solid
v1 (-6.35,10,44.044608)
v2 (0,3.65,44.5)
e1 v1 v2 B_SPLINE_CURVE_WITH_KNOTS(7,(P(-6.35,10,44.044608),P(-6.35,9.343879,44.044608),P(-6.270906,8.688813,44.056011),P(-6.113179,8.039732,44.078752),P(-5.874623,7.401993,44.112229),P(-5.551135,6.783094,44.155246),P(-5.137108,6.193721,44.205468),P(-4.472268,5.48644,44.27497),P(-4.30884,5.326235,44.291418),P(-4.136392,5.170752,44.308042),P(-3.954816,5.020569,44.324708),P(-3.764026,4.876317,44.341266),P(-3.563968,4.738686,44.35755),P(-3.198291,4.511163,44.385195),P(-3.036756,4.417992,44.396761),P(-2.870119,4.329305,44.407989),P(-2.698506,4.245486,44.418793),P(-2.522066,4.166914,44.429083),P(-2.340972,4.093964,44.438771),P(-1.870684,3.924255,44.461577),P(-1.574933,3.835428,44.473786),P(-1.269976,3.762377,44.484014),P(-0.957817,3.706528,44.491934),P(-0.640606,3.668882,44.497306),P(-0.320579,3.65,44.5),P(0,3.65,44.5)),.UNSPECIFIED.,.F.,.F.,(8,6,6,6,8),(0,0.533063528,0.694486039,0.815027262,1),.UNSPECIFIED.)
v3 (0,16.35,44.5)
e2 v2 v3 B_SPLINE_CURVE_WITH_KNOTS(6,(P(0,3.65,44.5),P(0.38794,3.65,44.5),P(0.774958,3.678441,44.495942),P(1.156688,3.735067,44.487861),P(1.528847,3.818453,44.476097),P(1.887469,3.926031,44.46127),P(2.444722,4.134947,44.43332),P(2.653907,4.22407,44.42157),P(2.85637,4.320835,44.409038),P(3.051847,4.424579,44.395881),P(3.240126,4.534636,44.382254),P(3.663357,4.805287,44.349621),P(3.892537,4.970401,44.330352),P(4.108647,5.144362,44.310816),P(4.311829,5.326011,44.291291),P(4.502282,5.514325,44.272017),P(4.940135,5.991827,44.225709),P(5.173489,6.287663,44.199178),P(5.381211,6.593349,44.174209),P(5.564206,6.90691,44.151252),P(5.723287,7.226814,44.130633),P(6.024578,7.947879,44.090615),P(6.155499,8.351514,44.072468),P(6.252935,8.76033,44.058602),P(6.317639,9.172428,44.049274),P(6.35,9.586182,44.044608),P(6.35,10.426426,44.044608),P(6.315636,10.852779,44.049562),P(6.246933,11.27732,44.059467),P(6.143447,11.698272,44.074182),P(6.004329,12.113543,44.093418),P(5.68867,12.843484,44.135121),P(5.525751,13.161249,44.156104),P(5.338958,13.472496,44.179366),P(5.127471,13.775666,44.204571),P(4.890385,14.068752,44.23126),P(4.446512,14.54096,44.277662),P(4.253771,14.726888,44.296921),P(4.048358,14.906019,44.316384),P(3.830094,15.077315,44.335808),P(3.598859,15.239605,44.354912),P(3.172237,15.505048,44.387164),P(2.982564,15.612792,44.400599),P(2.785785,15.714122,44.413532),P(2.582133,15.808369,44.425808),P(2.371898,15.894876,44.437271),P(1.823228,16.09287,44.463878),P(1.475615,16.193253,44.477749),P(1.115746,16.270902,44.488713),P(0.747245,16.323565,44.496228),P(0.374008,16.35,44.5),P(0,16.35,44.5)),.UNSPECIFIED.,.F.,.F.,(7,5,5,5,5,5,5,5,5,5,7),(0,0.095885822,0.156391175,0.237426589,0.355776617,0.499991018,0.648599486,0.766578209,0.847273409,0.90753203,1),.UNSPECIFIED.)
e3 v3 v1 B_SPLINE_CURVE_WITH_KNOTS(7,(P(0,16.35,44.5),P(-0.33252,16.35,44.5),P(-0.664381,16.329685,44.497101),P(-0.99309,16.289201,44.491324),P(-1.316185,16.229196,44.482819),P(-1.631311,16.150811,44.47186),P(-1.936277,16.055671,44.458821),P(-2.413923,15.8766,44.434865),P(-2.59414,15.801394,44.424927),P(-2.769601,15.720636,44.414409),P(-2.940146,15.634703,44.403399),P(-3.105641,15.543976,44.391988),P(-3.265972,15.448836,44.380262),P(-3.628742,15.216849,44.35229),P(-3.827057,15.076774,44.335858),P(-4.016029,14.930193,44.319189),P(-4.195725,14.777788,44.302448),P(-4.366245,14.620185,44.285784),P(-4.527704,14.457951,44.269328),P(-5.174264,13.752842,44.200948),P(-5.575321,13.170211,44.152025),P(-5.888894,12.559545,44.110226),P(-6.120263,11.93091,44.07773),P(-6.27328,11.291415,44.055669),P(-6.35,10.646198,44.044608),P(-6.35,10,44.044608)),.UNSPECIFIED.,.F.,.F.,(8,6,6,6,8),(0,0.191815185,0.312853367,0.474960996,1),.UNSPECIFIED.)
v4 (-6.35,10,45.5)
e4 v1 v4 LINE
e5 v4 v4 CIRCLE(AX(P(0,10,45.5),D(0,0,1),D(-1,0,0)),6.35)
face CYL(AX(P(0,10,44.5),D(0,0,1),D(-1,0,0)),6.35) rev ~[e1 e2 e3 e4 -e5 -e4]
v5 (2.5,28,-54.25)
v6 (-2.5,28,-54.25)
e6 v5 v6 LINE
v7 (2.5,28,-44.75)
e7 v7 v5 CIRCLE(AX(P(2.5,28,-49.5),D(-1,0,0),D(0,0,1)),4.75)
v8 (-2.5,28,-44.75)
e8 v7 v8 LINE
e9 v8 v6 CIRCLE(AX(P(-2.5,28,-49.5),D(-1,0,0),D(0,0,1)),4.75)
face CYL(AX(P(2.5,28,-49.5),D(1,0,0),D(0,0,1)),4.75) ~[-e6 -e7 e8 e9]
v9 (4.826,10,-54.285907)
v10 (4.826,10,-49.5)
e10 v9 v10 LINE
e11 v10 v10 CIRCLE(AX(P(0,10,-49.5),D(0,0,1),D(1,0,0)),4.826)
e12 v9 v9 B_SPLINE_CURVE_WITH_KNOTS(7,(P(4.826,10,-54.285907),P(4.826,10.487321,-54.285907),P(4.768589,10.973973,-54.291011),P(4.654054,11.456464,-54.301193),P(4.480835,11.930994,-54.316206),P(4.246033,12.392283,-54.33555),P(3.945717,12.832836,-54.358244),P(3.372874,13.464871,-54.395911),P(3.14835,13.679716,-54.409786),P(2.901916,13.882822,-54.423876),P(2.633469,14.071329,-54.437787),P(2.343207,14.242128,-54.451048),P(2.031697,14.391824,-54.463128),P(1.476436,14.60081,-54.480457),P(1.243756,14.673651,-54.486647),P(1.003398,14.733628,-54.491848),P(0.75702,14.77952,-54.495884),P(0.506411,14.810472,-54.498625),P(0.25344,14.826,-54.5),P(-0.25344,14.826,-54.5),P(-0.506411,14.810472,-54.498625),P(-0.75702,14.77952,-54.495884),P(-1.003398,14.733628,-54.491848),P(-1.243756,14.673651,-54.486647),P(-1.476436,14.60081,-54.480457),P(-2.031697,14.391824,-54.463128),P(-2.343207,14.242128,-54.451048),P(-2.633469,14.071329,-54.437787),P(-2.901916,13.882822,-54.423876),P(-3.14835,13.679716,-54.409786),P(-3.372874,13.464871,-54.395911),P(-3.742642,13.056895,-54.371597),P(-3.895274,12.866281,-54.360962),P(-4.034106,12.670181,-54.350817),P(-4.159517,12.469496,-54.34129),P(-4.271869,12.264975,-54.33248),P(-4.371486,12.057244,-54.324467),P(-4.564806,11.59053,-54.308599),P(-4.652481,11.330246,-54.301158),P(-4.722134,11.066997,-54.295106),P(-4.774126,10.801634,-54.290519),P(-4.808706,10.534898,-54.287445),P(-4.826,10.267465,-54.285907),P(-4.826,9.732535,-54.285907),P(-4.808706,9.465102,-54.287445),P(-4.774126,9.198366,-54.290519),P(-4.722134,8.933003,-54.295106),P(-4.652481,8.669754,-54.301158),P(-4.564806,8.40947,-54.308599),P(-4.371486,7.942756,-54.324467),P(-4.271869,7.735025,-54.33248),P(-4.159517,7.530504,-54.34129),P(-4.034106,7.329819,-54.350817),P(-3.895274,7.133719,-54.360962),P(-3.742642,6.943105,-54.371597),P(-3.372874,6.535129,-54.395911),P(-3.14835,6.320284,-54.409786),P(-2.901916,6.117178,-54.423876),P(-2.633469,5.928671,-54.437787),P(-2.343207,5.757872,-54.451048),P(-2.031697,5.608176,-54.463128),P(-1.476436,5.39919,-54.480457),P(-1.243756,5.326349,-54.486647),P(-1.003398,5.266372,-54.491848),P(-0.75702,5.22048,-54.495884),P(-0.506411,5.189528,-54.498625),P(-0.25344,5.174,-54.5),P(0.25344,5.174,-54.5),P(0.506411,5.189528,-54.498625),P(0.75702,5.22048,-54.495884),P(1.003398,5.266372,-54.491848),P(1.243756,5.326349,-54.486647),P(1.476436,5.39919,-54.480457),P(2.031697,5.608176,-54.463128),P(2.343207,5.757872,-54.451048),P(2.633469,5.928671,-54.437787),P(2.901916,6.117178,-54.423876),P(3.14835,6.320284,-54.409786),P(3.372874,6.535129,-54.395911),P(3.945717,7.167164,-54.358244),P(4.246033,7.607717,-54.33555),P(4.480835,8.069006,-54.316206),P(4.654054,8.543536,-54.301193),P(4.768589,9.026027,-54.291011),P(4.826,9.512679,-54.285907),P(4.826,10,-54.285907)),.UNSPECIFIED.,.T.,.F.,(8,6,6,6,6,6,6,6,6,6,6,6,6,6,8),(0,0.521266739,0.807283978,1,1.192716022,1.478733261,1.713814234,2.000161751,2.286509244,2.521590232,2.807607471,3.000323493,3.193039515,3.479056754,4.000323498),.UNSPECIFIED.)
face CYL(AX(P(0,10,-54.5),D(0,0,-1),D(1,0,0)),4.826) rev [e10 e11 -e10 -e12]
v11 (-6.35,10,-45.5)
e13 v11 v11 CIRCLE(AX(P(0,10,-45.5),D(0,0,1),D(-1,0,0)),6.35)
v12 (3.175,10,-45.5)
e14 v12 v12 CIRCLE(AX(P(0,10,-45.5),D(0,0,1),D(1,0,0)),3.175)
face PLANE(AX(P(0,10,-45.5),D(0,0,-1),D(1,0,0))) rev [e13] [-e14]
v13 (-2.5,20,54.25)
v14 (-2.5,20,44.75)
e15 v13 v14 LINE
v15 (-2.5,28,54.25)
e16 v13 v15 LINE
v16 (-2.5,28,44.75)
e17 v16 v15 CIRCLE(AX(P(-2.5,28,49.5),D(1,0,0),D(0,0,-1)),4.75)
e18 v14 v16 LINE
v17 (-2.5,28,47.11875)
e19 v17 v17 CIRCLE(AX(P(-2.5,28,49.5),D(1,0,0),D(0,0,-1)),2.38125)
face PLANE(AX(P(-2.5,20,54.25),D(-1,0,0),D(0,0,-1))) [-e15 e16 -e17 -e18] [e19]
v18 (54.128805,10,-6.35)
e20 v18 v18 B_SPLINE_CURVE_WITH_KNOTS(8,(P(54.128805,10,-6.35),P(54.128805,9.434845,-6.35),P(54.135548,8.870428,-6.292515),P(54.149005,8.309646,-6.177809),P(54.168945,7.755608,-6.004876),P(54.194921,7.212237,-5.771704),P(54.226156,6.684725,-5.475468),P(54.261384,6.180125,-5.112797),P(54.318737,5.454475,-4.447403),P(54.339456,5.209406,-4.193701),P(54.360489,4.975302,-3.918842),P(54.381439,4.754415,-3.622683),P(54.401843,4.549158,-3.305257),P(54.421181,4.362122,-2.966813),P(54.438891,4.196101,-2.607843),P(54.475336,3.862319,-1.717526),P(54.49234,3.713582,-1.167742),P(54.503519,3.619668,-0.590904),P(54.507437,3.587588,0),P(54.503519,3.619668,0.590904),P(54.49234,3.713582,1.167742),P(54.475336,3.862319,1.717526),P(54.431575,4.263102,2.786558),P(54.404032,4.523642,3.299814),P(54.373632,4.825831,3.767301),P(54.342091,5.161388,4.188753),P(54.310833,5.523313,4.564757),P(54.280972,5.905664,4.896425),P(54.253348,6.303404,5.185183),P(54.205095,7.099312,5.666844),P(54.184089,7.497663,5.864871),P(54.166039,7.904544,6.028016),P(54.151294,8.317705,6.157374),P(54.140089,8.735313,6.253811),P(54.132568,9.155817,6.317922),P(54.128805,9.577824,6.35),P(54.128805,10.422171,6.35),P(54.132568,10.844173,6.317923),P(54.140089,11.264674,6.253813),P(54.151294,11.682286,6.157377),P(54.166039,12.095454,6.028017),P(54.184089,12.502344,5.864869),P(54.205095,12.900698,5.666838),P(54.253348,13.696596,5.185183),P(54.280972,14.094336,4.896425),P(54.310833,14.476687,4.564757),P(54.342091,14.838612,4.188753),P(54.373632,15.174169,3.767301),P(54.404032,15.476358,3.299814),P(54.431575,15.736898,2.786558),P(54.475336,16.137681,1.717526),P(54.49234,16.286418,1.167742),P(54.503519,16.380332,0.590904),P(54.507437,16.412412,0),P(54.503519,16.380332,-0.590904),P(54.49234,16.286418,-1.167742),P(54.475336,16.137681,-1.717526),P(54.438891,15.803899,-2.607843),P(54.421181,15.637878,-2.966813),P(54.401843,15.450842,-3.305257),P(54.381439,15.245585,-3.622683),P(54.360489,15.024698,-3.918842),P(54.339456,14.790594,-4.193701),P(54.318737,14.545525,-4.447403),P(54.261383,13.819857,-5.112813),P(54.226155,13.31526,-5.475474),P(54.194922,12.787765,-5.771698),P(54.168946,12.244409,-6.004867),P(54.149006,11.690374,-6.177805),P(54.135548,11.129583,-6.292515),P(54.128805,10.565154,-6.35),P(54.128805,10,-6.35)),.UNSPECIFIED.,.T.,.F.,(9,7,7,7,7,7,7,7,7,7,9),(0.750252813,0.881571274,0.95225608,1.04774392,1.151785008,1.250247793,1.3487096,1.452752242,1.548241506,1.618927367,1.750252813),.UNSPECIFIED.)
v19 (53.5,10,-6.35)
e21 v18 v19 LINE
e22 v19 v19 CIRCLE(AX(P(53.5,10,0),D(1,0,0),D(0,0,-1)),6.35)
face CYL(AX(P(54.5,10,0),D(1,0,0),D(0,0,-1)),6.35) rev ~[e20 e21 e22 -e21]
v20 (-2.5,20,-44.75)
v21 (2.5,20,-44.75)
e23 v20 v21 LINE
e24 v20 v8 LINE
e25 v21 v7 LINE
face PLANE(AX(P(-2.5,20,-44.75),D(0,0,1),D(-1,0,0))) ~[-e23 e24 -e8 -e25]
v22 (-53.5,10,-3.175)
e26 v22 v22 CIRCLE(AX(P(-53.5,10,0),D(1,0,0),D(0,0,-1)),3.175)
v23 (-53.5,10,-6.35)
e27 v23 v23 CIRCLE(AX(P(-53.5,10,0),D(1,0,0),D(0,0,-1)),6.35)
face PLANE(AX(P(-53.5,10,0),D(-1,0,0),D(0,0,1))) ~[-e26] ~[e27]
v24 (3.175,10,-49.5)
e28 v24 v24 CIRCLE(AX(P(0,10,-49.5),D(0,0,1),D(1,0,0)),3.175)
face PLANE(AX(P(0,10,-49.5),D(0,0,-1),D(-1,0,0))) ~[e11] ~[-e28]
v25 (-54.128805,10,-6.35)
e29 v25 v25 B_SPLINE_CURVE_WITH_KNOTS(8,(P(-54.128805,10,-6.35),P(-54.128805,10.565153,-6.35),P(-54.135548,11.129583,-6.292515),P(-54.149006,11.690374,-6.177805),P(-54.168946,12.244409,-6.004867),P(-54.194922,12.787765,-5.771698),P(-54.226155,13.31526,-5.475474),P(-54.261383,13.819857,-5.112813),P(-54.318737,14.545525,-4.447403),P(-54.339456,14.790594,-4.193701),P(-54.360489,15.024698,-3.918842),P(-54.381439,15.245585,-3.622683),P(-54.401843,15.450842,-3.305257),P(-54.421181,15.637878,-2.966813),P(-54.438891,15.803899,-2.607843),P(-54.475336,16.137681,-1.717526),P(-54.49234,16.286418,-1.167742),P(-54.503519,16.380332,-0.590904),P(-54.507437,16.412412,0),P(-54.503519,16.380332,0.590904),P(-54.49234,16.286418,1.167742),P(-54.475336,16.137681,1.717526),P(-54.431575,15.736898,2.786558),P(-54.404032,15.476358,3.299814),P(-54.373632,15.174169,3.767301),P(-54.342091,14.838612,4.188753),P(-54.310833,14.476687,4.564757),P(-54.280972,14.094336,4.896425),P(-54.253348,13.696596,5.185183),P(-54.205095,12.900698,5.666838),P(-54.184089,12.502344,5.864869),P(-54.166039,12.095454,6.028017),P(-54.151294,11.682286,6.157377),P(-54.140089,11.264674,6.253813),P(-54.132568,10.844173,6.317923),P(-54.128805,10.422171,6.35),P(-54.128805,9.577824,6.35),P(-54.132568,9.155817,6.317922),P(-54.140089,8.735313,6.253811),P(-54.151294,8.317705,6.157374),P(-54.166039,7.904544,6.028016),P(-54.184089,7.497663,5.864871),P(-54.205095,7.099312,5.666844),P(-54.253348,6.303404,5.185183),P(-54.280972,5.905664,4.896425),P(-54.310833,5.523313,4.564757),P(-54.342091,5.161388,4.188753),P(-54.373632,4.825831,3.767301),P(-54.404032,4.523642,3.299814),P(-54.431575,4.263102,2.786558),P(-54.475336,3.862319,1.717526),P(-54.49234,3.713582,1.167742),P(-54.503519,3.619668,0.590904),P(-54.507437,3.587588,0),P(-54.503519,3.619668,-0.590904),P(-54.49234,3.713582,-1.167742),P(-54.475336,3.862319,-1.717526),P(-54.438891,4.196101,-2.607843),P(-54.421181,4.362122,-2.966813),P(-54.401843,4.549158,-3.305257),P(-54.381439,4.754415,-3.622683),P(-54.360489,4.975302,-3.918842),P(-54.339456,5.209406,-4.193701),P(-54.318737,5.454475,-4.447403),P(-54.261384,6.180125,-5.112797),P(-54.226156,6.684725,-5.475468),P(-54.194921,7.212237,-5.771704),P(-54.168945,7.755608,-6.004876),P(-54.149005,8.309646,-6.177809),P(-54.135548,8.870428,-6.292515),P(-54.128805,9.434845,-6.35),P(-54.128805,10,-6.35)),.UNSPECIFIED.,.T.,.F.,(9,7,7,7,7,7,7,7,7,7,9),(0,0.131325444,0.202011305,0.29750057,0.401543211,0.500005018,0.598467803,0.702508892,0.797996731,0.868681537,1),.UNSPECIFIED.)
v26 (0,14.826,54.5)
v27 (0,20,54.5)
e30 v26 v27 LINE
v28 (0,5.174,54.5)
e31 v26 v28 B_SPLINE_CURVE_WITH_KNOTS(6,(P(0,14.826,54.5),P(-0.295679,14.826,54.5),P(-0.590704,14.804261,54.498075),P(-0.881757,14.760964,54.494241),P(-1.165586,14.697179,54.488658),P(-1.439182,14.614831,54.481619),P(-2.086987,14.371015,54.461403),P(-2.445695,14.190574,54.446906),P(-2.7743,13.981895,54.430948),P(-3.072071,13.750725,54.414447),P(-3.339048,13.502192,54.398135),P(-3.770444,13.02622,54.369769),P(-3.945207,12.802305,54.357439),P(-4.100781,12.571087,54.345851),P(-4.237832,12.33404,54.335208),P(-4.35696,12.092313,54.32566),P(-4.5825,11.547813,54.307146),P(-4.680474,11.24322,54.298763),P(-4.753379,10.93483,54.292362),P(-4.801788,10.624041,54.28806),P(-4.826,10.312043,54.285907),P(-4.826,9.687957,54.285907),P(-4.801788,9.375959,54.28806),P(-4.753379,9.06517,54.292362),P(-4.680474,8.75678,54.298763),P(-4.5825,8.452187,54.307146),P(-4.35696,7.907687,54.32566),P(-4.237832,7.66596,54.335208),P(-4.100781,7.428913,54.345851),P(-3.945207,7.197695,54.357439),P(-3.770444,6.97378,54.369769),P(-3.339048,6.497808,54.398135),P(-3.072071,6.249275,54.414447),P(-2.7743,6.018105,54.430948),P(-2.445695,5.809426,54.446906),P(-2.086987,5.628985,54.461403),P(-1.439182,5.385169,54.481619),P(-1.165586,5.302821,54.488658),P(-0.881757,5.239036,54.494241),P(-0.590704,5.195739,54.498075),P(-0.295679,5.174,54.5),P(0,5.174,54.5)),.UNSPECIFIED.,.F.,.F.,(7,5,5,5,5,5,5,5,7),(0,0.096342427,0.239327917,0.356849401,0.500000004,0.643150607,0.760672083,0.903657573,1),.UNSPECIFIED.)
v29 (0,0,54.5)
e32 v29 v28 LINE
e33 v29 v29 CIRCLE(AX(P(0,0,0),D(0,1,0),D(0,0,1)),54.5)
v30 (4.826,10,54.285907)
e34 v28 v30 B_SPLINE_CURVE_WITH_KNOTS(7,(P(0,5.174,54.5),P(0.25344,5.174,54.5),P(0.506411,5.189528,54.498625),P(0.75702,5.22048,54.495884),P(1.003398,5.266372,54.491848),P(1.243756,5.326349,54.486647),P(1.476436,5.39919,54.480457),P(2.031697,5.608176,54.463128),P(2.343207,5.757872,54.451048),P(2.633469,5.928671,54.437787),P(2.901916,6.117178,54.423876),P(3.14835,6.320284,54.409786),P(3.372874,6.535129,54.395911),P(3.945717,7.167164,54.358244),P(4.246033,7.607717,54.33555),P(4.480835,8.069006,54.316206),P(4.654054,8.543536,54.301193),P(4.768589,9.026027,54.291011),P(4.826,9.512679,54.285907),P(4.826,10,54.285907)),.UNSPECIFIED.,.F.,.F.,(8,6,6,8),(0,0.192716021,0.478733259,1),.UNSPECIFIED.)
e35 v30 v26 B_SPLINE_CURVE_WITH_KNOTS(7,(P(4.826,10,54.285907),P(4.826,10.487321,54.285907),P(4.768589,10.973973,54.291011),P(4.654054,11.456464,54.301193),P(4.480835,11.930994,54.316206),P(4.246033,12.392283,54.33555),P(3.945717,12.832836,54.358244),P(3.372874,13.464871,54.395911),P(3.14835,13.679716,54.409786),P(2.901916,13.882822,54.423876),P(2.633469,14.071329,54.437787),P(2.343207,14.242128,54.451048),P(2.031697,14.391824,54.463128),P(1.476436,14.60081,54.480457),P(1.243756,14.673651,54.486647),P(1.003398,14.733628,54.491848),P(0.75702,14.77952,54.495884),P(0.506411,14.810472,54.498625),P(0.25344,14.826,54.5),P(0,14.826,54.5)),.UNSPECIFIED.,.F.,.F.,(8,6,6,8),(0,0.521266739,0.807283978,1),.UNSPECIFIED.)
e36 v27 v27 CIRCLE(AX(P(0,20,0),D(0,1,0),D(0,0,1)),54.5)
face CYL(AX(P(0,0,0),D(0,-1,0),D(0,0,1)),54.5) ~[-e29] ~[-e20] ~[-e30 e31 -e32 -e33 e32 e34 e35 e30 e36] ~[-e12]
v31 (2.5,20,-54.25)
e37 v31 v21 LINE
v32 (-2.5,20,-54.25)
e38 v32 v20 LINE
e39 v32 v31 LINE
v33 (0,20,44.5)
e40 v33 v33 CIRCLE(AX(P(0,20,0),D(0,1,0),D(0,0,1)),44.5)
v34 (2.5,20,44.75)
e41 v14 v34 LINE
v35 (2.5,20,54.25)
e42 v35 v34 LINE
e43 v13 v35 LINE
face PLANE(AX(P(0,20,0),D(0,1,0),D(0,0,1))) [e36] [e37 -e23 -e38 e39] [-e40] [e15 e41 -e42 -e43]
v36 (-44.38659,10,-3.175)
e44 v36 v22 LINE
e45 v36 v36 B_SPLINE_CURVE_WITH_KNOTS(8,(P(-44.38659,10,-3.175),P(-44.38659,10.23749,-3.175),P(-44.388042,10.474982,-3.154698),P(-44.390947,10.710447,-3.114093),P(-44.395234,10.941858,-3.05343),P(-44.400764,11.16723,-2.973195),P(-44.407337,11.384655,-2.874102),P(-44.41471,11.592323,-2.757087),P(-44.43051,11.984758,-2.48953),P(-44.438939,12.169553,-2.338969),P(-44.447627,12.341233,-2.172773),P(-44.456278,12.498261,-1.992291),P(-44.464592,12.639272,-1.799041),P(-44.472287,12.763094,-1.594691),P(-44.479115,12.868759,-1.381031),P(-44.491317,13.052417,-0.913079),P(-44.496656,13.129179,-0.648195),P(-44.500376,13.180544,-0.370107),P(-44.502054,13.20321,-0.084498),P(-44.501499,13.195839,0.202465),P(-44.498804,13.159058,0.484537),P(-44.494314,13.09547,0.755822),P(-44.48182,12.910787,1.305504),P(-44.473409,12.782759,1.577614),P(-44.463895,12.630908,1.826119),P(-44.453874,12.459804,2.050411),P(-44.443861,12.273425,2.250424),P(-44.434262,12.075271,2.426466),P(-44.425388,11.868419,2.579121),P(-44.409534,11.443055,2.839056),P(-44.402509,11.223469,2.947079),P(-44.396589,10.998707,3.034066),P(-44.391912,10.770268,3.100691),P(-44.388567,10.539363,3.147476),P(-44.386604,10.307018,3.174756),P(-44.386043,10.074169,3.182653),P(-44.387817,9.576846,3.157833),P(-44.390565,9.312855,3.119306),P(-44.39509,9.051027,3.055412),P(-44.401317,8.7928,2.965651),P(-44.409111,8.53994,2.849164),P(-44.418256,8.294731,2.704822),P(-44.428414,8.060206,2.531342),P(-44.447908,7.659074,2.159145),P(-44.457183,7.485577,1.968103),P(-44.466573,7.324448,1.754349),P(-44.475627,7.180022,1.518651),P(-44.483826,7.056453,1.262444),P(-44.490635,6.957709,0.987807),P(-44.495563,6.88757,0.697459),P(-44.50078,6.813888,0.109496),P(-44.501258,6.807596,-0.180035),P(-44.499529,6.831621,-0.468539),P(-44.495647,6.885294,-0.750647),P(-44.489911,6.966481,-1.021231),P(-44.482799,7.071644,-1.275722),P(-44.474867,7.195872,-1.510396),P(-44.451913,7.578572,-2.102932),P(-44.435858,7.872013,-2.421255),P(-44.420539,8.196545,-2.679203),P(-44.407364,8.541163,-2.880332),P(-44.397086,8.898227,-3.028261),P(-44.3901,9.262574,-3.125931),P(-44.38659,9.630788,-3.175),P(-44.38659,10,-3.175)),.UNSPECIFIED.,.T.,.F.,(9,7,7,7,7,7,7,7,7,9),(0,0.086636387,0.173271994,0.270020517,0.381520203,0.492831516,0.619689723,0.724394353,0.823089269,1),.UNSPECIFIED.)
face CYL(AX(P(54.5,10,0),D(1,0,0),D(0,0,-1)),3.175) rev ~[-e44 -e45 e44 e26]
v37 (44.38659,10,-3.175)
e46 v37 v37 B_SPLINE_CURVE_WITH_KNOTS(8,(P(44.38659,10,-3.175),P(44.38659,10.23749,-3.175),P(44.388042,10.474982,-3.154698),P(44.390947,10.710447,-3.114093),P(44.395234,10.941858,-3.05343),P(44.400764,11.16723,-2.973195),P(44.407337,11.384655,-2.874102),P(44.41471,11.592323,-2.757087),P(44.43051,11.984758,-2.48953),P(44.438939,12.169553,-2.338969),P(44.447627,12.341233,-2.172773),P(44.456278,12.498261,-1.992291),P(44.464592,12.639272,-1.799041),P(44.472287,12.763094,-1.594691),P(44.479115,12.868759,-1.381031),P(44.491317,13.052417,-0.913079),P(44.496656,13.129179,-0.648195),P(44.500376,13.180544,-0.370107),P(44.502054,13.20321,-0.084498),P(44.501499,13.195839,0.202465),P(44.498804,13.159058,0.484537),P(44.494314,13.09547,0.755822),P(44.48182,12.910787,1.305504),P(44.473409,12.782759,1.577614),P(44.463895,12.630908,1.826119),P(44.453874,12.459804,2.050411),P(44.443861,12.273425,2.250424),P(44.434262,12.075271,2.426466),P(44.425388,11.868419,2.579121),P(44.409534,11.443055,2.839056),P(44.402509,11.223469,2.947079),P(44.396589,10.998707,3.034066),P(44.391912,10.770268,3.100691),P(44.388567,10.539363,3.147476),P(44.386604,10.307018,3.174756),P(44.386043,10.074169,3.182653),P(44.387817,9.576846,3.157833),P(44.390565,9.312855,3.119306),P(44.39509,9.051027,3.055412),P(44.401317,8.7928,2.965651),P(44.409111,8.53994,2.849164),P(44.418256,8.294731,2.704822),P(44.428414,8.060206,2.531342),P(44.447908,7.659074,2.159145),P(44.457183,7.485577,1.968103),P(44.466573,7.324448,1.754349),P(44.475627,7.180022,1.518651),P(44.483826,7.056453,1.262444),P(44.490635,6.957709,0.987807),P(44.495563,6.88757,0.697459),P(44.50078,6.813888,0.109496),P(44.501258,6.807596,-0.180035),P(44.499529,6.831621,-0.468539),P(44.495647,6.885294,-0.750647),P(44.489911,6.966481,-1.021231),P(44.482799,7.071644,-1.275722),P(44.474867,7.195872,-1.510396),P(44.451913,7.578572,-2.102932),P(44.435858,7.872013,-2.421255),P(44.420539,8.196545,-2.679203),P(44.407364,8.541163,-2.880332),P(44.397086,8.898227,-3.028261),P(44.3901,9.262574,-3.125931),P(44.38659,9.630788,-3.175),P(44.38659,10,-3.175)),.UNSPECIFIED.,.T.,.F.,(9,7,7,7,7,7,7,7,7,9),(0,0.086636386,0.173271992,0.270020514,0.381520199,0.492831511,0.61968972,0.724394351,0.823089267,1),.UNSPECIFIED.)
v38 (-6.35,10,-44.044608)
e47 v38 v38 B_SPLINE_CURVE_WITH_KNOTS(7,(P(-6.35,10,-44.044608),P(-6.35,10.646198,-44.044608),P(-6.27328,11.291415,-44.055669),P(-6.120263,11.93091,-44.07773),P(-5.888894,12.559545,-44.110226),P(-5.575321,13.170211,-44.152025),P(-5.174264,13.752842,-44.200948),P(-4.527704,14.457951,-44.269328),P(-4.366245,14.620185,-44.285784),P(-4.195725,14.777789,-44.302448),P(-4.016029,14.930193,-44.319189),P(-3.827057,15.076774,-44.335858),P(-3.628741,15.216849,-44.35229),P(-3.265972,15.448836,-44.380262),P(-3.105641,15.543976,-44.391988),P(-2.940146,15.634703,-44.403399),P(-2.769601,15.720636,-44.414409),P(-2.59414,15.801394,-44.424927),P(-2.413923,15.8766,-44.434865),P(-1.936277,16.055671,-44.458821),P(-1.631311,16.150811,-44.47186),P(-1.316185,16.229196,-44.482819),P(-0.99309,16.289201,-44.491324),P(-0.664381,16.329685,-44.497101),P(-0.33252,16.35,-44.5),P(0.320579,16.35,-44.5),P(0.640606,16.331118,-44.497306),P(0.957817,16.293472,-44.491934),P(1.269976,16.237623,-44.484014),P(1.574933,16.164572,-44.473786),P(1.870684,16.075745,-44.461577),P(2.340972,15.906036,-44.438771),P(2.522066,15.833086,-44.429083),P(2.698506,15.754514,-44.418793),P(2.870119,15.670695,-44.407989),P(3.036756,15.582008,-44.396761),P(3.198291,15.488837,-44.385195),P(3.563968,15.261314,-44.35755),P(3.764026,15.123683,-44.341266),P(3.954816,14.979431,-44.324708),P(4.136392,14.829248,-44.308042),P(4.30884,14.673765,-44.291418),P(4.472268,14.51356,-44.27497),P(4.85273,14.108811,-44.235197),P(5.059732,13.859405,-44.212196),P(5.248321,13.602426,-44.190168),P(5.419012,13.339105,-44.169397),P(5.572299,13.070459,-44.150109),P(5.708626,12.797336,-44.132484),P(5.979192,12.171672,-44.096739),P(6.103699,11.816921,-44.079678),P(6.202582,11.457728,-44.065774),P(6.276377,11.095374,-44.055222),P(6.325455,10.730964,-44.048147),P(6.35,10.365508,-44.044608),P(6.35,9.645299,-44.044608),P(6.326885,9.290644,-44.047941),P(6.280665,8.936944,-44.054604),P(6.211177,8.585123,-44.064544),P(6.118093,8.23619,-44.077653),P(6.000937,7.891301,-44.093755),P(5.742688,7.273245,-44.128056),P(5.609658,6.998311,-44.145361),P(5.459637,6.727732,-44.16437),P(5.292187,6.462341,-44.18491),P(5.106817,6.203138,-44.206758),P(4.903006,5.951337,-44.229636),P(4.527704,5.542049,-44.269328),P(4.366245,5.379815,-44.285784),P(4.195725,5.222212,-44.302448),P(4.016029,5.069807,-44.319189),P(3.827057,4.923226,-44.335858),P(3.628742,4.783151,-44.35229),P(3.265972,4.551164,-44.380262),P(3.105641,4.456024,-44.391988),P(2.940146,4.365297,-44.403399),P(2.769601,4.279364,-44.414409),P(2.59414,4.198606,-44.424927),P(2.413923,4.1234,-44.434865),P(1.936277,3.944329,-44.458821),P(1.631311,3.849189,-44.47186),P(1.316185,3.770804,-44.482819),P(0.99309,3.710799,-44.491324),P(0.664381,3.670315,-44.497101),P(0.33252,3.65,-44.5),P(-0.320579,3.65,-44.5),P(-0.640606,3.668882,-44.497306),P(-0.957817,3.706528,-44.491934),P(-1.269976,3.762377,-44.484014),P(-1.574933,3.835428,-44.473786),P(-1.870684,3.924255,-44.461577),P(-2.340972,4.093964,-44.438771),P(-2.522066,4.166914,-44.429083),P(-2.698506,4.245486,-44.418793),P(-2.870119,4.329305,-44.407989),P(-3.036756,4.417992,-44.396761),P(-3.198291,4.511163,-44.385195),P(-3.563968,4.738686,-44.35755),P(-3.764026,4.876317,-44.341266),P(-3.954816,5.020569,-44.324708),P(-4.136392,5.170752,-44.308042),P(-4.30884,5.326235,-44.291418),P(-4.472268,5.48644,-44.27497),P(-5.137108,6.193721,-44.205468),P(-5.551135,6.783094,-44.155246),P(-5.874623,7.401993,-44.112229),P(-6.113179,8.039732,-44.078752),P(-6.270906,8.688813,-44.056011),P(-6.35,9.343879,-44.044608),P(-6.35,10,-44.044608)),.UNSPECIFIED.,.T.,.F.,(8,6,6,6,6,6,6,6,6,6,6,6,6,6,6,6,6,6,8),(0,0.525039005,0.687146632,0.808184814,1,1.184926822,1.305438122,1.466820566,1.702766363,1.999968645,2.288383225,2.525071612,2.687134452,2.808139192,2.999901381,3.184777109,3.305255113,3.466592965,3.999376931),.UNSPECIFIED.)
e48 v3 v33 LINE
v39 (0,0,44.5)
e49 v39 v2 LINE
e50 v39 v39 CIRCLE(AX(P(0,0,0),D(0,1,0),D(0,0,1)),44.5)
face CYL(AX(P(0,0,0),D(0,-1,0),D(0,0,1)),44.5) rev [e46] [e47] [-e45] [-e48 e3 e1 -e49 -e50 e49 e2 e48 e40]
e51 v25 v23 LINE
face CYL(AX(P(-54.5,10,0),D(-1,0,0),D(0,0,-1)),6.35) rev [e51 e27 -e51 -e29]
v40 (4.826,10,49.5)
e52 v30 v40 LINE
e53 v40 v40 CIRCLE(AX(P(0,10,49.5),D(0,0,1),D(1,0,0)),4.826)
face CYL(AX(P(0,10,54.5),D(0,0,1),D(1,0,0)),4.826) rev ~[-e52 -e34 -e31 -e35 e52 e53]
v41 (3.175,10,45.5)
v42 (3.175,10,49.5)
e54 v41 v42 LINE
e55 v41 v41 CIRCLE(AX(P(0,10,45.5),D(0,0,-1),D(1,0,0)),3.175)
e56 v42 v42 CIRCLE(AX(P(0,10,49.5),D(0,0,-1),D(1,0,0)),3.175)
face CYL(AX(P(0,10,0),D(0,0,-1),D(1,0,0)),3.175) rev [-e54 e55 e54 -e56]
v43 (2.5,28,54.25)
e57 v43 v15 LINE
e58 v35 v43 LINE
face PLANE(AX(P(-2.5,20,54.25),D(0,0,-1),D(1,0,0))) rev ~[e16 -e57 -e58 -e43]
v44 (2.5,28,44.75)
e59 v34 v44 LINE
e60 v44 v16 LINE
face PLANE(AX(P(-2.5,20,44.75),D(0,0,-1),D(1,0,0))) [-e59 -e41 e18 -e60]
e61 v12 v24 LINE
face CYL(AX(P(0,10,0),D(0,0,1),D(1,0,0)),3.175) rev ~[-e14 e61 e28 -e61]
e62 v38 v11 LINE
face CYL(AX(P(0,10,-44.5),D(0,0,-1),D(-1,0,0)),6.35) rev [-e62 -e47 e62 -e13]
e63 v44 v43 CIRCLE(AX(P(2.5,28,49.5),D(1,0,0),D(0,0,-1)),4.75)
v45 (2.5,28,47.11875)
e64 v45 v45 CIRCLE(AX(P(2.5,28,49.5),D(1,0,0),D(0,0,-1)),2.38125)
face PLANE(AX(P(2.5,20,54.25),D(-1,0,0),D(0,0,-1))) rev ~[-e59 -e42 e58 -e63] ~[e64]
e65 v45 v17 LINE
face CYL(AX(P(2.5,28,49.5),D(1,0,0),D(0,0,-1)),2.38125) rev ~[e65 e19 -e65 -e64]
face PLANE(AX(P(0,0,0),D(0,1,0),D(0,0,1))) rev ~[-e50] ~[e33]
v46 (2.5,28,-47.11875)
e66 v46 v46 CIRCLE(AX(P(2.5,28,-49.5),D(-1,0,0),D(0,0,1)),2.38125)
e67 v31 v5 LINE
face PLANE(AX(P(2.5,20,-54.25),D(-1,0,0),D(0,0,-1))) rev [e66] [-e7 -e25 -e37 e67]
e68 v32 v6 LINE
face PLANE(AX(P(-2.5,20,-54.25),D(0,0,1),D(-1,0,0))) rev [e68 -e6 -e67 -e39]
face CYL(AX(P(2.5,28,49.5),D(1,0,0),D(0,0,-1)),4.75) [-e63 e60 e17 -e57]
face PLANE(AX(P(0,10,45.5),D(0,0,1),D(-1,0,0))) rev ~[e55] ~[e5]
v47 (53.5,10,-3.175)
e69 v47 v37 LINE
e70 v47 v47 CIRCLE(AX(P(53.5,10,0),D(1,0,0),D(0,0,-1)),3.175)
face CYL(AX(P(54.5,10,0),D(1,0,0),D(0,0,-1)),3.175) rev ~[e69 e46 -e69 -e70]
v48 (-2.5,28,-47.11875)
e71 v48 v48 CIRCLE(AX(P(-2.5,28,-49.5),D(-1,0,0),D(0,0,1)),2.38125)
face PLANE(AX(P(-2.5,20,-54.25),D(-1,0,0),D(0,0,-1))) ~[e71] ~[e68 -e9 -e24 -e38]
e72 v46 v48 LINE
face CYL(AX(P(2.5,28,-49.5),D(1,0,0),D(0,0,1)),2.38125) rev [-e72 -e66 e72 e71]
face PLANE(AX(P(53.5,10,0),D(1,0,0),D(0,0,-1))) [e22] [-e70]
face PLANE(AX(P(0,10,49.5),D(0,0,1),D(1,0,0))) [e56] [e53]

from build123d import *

# Parameters (mm, degrees)
SKETCH1_R               = 54.5
SKETCH1_R_2             = 44.5
BOSS_EXTRUDE1_DEPTH     = 20
CUT_EXTRUDE1_REACH      = 81.627
CUT_EXTRUDE1_END_RADIUS = 54.5
SKETCH2_R               = 3.175
CUT_EXTRUDE2_REACH      = 81.627
CUT_EXTRUDE2_END_RADIUS = 54.5
SKETCH2_2_R             = 3.175
SKETCH3_W               = 5
SKETCH3_H               = 9.5
BOSS_EXTRUDE2_DEPTH     = 13
CUT_EXTRUDE3_REACH      = 87.488
CUT_EXTRUDE4_REACH      = 87.392
SKETCH5_R               = 2.38125
SKETCH6_R               = 3.175
CUT_EXTRUDE5_DEPTH      = 180
SKETCH8_R               = 4.826
CUT_EXTRUDE6_DEPTH      = 5
SKETCH9_R               = 6.35
CUT_EXTRUDE7_DEPTH      = 1
SKETCH10_R              = 6.35
CUT_EXTRUDE9_DEPTH      = 1


with BuildPart() as part:
    # Sketch1 → Boss-Extrude1 (new body)
    with BuildSketch(Plane(origin=(0, 0, 0), x_dir=(1, 0, 0), z_dir=(0, 1, 0))):
        with Locations(Location((0, 0, 0), (0, 0, 270))):
            Circle(SKETCH1_R)
        with Locations(Location((0, 0, 0), (0, 0, 270))):
            Circle(SKETCH1_R_2, mode=Mode.SUBTRACT)
    extrude(amount=BOSS_EXTRUDE1_DEPTH)

    # Cut-Extrude1: up to this cylinder (the profile starts inside it)
    cut_extrude1_end = Plane(origin=(0, 10, 0), z_dir=(0, -1, 0)) * Cylinder(CUT_EXTRUDE1_END_RADIUS, 273.254, mode=Mode.PRIVATE)
    # Sketch2 → Cut-Extrude1 (cut, up to the surface)
    with BuildSketch(Plane.XY, mode=Mode.PRIVATE) as cut_extrude1_sk1:
        with Locations((0, 10)):
            Circle(SKETCH2_R)
    cut_extrude1_tool1 = extrude(cut_extrude1_sk1.sketch, amount=-CUT_EXTRUDE1_REACH, mode=Mode.PRIVATE) & cut_extrude1_end
    add(cut_extrude1_tool1.solids().sort_by_distance((0, 10, 0))[0], mode=Mode.SUBTRACT)

    # Cut-Extrude2: up to this cylinder (the profile starts inside it)
    cut_extrude2_end = Plane(origin=(0, 10, 0), z_dir=(0, -1, 0)) * Cylinder(CUT_EXTRUDE2_END_RADIUS, 273.254, mode=Mode.PRIVATE)
    # Sketch2_2 → Cut-Extrude2 (cut, up to the surface)
    with BuildSketch(Plane.XY, mode=Mode.PRIVATE) as cut_extrude2_sk1:
        with Locations((0, 10)):
            Circle(SKETCH2_2_R)
    cut_extrude2_tool1 = extrude(cut_extrude2_sk1.sketch, amount=CUT_EXTRUDE2_REACH, mode=Mode.PRIVATE) & cut_extrude2_end
    add(cut_extrude2_tool1.solids().sort_by_distance((0, 10, 0))[0], mode=Mode.SUBTRACT)

    # Sketch3 → Boss-Extrude2 (add)
    with BuildSketch(Plane(origin=(0, 20, 0), x_dir=(1, 0, 0), z_dir=(0, 1, 0))):
        with Locations((0, -49.5)):
            Rectangle(SKETCH3_W, SKETCH3_H)
    boss_extrude2 = extrude(amount=BOSS_EXTRUDE2_DEPTH)

    # Sketch4 → Cut-Extrude3 (cut, up to next)
    with BuildSketch(Plane(origin=(2.5, 0, 0), x_dir=(0, 0, -1), z_dir=(1, 0, 0)), mode=Mode.PRIVATE) as cut_extrude3_sk1:
        with BuildLine():
            Line((-54.25, 28), (-54.25, 33))
            Line((-54.25, 33), (-44.75, 33))
            Line((-44.75, 33), (-44.75, 28))
            ThreePointArc((-44.75, 28), (-49.5, 32.75), (-54.25, 28))
        make_face()
    cut_extrude3_tool1 = extrude(cut_extrude3_sk1.sketch, amount=-CUT_EXTRUDE3_REACH, mode=Mode.PRIVATE) & part.part
    cut_extrude3 = cut_extrude3_tool1.solids().sort_by_distance((2.5, 32.857355, 49.5))[0]
    add(cut_extrude3, mode=Mode.SUBTRACT)

    # Sketch5 → Cut-Extrude4 (cut, up to next)
    with BuildSketch(Plane(origin=(2.5, 0, 0), x_dir=(0, 0, -1), z_dir=(1, 0, 0)), mode=Mode.PRIVATE) as cut_extrude4_sk1:
        with Locations((-49.5, 28)):
            Circle(SKETCH5_R)
    cut_extrude4_tool1 = extrude(cut_extrude4_sk1.sketch, amount=-CUT_EXTRUDE4_REACH, mode=Mode.PRIVATE) & part.part
    cut_extrude4 = cut_extrude4_tool1.solids().sort_by_distance((2.5, 28, 49.5))[0]
    add(cut_extrude4, mode=Mode.SUBTRACT)

    # Mirror1: Boss-Extrude2, Cut-Extrude3, Cut-Extrude4 across plane
    add(boss_extrude2.mirror(Plane.XY))
    add(cut_extrude3.mirror(Plane.XY), mode=Mode.SUBTRACT)
    add(cut_extrude4.mirror(Plane.XY), mode=Mode.SUBTRACT)

    # Sketch6 → Cut-Extrude5 (cut)
    with BuildSketch(Plane(origin=(54.5, 0, 0), x_dir=(0, 0, -1), z_dir=(1, 0, 0))):
        with Locations((0, 10)):
            Circle(SKETCH6_R)
    extrude(amount=-CUT_EXTRUDE5_DEPTH, mode=Mode.SUBTRACT)

    # Sketch8 → Cut-Extrude6 (cut)
    with BuildSketch(Plane.XY.offset(54.5)):
        with Locations((0, 10)):
            Circle(SKETCH8_R)
    cut_extrude6 = extrude(amount=-CUT_EXTRUDE6_DEPTH, mode=Mode.SUBTRACT)

    # Mirror2: Cut-Extrude6 across plane
    add(cut_extrude6.mirror(Plane.XY), mode=Mode.SUBTRACT)

    # Sketch9 → Cut-Extrude7 (cut)
    with BuildSketch(Plane(origin=(54.5, 0, 0), x_dir=(0, 0, -1), z_dir=(1, 0, 0))):
        with Locations((0, 10)):
            Circle(SKETCH9_R)
    cut_extrude7 = extrude(amount=-CUT_EXTRUDE7_DEPTH, mode=Mode.SUBTRACT)

    # Mirror3: Cut-Extrude7 across plane
    add(cut_extrude7.mirror(Plane(origin=(0, 0, 0), x_dir=(0, 0, 1), z_dir=(1, 0, 0))), mode=Mode.SUBTRACT)

    # Sketch10 → Cut-Extrude9 (cut, symmetric)
    with BuildSketch(Plane.XY.offset(44.5)):
        with Locations(Location((0, 10, 0), (0, 0, 180))):
            Circle(SKETCH10_R)
    cut_extrude9 = extrude(amount=CUT_EXTRUDE9_DEPTH, both=True, mode=Mode.SUBTRACT)

    # Mirror4: Cut-Extrude9 across plane
    add(cut_extrude9.mirror(Plane.XY), mode=Mode.SUBTRACT)


solid = part.part
